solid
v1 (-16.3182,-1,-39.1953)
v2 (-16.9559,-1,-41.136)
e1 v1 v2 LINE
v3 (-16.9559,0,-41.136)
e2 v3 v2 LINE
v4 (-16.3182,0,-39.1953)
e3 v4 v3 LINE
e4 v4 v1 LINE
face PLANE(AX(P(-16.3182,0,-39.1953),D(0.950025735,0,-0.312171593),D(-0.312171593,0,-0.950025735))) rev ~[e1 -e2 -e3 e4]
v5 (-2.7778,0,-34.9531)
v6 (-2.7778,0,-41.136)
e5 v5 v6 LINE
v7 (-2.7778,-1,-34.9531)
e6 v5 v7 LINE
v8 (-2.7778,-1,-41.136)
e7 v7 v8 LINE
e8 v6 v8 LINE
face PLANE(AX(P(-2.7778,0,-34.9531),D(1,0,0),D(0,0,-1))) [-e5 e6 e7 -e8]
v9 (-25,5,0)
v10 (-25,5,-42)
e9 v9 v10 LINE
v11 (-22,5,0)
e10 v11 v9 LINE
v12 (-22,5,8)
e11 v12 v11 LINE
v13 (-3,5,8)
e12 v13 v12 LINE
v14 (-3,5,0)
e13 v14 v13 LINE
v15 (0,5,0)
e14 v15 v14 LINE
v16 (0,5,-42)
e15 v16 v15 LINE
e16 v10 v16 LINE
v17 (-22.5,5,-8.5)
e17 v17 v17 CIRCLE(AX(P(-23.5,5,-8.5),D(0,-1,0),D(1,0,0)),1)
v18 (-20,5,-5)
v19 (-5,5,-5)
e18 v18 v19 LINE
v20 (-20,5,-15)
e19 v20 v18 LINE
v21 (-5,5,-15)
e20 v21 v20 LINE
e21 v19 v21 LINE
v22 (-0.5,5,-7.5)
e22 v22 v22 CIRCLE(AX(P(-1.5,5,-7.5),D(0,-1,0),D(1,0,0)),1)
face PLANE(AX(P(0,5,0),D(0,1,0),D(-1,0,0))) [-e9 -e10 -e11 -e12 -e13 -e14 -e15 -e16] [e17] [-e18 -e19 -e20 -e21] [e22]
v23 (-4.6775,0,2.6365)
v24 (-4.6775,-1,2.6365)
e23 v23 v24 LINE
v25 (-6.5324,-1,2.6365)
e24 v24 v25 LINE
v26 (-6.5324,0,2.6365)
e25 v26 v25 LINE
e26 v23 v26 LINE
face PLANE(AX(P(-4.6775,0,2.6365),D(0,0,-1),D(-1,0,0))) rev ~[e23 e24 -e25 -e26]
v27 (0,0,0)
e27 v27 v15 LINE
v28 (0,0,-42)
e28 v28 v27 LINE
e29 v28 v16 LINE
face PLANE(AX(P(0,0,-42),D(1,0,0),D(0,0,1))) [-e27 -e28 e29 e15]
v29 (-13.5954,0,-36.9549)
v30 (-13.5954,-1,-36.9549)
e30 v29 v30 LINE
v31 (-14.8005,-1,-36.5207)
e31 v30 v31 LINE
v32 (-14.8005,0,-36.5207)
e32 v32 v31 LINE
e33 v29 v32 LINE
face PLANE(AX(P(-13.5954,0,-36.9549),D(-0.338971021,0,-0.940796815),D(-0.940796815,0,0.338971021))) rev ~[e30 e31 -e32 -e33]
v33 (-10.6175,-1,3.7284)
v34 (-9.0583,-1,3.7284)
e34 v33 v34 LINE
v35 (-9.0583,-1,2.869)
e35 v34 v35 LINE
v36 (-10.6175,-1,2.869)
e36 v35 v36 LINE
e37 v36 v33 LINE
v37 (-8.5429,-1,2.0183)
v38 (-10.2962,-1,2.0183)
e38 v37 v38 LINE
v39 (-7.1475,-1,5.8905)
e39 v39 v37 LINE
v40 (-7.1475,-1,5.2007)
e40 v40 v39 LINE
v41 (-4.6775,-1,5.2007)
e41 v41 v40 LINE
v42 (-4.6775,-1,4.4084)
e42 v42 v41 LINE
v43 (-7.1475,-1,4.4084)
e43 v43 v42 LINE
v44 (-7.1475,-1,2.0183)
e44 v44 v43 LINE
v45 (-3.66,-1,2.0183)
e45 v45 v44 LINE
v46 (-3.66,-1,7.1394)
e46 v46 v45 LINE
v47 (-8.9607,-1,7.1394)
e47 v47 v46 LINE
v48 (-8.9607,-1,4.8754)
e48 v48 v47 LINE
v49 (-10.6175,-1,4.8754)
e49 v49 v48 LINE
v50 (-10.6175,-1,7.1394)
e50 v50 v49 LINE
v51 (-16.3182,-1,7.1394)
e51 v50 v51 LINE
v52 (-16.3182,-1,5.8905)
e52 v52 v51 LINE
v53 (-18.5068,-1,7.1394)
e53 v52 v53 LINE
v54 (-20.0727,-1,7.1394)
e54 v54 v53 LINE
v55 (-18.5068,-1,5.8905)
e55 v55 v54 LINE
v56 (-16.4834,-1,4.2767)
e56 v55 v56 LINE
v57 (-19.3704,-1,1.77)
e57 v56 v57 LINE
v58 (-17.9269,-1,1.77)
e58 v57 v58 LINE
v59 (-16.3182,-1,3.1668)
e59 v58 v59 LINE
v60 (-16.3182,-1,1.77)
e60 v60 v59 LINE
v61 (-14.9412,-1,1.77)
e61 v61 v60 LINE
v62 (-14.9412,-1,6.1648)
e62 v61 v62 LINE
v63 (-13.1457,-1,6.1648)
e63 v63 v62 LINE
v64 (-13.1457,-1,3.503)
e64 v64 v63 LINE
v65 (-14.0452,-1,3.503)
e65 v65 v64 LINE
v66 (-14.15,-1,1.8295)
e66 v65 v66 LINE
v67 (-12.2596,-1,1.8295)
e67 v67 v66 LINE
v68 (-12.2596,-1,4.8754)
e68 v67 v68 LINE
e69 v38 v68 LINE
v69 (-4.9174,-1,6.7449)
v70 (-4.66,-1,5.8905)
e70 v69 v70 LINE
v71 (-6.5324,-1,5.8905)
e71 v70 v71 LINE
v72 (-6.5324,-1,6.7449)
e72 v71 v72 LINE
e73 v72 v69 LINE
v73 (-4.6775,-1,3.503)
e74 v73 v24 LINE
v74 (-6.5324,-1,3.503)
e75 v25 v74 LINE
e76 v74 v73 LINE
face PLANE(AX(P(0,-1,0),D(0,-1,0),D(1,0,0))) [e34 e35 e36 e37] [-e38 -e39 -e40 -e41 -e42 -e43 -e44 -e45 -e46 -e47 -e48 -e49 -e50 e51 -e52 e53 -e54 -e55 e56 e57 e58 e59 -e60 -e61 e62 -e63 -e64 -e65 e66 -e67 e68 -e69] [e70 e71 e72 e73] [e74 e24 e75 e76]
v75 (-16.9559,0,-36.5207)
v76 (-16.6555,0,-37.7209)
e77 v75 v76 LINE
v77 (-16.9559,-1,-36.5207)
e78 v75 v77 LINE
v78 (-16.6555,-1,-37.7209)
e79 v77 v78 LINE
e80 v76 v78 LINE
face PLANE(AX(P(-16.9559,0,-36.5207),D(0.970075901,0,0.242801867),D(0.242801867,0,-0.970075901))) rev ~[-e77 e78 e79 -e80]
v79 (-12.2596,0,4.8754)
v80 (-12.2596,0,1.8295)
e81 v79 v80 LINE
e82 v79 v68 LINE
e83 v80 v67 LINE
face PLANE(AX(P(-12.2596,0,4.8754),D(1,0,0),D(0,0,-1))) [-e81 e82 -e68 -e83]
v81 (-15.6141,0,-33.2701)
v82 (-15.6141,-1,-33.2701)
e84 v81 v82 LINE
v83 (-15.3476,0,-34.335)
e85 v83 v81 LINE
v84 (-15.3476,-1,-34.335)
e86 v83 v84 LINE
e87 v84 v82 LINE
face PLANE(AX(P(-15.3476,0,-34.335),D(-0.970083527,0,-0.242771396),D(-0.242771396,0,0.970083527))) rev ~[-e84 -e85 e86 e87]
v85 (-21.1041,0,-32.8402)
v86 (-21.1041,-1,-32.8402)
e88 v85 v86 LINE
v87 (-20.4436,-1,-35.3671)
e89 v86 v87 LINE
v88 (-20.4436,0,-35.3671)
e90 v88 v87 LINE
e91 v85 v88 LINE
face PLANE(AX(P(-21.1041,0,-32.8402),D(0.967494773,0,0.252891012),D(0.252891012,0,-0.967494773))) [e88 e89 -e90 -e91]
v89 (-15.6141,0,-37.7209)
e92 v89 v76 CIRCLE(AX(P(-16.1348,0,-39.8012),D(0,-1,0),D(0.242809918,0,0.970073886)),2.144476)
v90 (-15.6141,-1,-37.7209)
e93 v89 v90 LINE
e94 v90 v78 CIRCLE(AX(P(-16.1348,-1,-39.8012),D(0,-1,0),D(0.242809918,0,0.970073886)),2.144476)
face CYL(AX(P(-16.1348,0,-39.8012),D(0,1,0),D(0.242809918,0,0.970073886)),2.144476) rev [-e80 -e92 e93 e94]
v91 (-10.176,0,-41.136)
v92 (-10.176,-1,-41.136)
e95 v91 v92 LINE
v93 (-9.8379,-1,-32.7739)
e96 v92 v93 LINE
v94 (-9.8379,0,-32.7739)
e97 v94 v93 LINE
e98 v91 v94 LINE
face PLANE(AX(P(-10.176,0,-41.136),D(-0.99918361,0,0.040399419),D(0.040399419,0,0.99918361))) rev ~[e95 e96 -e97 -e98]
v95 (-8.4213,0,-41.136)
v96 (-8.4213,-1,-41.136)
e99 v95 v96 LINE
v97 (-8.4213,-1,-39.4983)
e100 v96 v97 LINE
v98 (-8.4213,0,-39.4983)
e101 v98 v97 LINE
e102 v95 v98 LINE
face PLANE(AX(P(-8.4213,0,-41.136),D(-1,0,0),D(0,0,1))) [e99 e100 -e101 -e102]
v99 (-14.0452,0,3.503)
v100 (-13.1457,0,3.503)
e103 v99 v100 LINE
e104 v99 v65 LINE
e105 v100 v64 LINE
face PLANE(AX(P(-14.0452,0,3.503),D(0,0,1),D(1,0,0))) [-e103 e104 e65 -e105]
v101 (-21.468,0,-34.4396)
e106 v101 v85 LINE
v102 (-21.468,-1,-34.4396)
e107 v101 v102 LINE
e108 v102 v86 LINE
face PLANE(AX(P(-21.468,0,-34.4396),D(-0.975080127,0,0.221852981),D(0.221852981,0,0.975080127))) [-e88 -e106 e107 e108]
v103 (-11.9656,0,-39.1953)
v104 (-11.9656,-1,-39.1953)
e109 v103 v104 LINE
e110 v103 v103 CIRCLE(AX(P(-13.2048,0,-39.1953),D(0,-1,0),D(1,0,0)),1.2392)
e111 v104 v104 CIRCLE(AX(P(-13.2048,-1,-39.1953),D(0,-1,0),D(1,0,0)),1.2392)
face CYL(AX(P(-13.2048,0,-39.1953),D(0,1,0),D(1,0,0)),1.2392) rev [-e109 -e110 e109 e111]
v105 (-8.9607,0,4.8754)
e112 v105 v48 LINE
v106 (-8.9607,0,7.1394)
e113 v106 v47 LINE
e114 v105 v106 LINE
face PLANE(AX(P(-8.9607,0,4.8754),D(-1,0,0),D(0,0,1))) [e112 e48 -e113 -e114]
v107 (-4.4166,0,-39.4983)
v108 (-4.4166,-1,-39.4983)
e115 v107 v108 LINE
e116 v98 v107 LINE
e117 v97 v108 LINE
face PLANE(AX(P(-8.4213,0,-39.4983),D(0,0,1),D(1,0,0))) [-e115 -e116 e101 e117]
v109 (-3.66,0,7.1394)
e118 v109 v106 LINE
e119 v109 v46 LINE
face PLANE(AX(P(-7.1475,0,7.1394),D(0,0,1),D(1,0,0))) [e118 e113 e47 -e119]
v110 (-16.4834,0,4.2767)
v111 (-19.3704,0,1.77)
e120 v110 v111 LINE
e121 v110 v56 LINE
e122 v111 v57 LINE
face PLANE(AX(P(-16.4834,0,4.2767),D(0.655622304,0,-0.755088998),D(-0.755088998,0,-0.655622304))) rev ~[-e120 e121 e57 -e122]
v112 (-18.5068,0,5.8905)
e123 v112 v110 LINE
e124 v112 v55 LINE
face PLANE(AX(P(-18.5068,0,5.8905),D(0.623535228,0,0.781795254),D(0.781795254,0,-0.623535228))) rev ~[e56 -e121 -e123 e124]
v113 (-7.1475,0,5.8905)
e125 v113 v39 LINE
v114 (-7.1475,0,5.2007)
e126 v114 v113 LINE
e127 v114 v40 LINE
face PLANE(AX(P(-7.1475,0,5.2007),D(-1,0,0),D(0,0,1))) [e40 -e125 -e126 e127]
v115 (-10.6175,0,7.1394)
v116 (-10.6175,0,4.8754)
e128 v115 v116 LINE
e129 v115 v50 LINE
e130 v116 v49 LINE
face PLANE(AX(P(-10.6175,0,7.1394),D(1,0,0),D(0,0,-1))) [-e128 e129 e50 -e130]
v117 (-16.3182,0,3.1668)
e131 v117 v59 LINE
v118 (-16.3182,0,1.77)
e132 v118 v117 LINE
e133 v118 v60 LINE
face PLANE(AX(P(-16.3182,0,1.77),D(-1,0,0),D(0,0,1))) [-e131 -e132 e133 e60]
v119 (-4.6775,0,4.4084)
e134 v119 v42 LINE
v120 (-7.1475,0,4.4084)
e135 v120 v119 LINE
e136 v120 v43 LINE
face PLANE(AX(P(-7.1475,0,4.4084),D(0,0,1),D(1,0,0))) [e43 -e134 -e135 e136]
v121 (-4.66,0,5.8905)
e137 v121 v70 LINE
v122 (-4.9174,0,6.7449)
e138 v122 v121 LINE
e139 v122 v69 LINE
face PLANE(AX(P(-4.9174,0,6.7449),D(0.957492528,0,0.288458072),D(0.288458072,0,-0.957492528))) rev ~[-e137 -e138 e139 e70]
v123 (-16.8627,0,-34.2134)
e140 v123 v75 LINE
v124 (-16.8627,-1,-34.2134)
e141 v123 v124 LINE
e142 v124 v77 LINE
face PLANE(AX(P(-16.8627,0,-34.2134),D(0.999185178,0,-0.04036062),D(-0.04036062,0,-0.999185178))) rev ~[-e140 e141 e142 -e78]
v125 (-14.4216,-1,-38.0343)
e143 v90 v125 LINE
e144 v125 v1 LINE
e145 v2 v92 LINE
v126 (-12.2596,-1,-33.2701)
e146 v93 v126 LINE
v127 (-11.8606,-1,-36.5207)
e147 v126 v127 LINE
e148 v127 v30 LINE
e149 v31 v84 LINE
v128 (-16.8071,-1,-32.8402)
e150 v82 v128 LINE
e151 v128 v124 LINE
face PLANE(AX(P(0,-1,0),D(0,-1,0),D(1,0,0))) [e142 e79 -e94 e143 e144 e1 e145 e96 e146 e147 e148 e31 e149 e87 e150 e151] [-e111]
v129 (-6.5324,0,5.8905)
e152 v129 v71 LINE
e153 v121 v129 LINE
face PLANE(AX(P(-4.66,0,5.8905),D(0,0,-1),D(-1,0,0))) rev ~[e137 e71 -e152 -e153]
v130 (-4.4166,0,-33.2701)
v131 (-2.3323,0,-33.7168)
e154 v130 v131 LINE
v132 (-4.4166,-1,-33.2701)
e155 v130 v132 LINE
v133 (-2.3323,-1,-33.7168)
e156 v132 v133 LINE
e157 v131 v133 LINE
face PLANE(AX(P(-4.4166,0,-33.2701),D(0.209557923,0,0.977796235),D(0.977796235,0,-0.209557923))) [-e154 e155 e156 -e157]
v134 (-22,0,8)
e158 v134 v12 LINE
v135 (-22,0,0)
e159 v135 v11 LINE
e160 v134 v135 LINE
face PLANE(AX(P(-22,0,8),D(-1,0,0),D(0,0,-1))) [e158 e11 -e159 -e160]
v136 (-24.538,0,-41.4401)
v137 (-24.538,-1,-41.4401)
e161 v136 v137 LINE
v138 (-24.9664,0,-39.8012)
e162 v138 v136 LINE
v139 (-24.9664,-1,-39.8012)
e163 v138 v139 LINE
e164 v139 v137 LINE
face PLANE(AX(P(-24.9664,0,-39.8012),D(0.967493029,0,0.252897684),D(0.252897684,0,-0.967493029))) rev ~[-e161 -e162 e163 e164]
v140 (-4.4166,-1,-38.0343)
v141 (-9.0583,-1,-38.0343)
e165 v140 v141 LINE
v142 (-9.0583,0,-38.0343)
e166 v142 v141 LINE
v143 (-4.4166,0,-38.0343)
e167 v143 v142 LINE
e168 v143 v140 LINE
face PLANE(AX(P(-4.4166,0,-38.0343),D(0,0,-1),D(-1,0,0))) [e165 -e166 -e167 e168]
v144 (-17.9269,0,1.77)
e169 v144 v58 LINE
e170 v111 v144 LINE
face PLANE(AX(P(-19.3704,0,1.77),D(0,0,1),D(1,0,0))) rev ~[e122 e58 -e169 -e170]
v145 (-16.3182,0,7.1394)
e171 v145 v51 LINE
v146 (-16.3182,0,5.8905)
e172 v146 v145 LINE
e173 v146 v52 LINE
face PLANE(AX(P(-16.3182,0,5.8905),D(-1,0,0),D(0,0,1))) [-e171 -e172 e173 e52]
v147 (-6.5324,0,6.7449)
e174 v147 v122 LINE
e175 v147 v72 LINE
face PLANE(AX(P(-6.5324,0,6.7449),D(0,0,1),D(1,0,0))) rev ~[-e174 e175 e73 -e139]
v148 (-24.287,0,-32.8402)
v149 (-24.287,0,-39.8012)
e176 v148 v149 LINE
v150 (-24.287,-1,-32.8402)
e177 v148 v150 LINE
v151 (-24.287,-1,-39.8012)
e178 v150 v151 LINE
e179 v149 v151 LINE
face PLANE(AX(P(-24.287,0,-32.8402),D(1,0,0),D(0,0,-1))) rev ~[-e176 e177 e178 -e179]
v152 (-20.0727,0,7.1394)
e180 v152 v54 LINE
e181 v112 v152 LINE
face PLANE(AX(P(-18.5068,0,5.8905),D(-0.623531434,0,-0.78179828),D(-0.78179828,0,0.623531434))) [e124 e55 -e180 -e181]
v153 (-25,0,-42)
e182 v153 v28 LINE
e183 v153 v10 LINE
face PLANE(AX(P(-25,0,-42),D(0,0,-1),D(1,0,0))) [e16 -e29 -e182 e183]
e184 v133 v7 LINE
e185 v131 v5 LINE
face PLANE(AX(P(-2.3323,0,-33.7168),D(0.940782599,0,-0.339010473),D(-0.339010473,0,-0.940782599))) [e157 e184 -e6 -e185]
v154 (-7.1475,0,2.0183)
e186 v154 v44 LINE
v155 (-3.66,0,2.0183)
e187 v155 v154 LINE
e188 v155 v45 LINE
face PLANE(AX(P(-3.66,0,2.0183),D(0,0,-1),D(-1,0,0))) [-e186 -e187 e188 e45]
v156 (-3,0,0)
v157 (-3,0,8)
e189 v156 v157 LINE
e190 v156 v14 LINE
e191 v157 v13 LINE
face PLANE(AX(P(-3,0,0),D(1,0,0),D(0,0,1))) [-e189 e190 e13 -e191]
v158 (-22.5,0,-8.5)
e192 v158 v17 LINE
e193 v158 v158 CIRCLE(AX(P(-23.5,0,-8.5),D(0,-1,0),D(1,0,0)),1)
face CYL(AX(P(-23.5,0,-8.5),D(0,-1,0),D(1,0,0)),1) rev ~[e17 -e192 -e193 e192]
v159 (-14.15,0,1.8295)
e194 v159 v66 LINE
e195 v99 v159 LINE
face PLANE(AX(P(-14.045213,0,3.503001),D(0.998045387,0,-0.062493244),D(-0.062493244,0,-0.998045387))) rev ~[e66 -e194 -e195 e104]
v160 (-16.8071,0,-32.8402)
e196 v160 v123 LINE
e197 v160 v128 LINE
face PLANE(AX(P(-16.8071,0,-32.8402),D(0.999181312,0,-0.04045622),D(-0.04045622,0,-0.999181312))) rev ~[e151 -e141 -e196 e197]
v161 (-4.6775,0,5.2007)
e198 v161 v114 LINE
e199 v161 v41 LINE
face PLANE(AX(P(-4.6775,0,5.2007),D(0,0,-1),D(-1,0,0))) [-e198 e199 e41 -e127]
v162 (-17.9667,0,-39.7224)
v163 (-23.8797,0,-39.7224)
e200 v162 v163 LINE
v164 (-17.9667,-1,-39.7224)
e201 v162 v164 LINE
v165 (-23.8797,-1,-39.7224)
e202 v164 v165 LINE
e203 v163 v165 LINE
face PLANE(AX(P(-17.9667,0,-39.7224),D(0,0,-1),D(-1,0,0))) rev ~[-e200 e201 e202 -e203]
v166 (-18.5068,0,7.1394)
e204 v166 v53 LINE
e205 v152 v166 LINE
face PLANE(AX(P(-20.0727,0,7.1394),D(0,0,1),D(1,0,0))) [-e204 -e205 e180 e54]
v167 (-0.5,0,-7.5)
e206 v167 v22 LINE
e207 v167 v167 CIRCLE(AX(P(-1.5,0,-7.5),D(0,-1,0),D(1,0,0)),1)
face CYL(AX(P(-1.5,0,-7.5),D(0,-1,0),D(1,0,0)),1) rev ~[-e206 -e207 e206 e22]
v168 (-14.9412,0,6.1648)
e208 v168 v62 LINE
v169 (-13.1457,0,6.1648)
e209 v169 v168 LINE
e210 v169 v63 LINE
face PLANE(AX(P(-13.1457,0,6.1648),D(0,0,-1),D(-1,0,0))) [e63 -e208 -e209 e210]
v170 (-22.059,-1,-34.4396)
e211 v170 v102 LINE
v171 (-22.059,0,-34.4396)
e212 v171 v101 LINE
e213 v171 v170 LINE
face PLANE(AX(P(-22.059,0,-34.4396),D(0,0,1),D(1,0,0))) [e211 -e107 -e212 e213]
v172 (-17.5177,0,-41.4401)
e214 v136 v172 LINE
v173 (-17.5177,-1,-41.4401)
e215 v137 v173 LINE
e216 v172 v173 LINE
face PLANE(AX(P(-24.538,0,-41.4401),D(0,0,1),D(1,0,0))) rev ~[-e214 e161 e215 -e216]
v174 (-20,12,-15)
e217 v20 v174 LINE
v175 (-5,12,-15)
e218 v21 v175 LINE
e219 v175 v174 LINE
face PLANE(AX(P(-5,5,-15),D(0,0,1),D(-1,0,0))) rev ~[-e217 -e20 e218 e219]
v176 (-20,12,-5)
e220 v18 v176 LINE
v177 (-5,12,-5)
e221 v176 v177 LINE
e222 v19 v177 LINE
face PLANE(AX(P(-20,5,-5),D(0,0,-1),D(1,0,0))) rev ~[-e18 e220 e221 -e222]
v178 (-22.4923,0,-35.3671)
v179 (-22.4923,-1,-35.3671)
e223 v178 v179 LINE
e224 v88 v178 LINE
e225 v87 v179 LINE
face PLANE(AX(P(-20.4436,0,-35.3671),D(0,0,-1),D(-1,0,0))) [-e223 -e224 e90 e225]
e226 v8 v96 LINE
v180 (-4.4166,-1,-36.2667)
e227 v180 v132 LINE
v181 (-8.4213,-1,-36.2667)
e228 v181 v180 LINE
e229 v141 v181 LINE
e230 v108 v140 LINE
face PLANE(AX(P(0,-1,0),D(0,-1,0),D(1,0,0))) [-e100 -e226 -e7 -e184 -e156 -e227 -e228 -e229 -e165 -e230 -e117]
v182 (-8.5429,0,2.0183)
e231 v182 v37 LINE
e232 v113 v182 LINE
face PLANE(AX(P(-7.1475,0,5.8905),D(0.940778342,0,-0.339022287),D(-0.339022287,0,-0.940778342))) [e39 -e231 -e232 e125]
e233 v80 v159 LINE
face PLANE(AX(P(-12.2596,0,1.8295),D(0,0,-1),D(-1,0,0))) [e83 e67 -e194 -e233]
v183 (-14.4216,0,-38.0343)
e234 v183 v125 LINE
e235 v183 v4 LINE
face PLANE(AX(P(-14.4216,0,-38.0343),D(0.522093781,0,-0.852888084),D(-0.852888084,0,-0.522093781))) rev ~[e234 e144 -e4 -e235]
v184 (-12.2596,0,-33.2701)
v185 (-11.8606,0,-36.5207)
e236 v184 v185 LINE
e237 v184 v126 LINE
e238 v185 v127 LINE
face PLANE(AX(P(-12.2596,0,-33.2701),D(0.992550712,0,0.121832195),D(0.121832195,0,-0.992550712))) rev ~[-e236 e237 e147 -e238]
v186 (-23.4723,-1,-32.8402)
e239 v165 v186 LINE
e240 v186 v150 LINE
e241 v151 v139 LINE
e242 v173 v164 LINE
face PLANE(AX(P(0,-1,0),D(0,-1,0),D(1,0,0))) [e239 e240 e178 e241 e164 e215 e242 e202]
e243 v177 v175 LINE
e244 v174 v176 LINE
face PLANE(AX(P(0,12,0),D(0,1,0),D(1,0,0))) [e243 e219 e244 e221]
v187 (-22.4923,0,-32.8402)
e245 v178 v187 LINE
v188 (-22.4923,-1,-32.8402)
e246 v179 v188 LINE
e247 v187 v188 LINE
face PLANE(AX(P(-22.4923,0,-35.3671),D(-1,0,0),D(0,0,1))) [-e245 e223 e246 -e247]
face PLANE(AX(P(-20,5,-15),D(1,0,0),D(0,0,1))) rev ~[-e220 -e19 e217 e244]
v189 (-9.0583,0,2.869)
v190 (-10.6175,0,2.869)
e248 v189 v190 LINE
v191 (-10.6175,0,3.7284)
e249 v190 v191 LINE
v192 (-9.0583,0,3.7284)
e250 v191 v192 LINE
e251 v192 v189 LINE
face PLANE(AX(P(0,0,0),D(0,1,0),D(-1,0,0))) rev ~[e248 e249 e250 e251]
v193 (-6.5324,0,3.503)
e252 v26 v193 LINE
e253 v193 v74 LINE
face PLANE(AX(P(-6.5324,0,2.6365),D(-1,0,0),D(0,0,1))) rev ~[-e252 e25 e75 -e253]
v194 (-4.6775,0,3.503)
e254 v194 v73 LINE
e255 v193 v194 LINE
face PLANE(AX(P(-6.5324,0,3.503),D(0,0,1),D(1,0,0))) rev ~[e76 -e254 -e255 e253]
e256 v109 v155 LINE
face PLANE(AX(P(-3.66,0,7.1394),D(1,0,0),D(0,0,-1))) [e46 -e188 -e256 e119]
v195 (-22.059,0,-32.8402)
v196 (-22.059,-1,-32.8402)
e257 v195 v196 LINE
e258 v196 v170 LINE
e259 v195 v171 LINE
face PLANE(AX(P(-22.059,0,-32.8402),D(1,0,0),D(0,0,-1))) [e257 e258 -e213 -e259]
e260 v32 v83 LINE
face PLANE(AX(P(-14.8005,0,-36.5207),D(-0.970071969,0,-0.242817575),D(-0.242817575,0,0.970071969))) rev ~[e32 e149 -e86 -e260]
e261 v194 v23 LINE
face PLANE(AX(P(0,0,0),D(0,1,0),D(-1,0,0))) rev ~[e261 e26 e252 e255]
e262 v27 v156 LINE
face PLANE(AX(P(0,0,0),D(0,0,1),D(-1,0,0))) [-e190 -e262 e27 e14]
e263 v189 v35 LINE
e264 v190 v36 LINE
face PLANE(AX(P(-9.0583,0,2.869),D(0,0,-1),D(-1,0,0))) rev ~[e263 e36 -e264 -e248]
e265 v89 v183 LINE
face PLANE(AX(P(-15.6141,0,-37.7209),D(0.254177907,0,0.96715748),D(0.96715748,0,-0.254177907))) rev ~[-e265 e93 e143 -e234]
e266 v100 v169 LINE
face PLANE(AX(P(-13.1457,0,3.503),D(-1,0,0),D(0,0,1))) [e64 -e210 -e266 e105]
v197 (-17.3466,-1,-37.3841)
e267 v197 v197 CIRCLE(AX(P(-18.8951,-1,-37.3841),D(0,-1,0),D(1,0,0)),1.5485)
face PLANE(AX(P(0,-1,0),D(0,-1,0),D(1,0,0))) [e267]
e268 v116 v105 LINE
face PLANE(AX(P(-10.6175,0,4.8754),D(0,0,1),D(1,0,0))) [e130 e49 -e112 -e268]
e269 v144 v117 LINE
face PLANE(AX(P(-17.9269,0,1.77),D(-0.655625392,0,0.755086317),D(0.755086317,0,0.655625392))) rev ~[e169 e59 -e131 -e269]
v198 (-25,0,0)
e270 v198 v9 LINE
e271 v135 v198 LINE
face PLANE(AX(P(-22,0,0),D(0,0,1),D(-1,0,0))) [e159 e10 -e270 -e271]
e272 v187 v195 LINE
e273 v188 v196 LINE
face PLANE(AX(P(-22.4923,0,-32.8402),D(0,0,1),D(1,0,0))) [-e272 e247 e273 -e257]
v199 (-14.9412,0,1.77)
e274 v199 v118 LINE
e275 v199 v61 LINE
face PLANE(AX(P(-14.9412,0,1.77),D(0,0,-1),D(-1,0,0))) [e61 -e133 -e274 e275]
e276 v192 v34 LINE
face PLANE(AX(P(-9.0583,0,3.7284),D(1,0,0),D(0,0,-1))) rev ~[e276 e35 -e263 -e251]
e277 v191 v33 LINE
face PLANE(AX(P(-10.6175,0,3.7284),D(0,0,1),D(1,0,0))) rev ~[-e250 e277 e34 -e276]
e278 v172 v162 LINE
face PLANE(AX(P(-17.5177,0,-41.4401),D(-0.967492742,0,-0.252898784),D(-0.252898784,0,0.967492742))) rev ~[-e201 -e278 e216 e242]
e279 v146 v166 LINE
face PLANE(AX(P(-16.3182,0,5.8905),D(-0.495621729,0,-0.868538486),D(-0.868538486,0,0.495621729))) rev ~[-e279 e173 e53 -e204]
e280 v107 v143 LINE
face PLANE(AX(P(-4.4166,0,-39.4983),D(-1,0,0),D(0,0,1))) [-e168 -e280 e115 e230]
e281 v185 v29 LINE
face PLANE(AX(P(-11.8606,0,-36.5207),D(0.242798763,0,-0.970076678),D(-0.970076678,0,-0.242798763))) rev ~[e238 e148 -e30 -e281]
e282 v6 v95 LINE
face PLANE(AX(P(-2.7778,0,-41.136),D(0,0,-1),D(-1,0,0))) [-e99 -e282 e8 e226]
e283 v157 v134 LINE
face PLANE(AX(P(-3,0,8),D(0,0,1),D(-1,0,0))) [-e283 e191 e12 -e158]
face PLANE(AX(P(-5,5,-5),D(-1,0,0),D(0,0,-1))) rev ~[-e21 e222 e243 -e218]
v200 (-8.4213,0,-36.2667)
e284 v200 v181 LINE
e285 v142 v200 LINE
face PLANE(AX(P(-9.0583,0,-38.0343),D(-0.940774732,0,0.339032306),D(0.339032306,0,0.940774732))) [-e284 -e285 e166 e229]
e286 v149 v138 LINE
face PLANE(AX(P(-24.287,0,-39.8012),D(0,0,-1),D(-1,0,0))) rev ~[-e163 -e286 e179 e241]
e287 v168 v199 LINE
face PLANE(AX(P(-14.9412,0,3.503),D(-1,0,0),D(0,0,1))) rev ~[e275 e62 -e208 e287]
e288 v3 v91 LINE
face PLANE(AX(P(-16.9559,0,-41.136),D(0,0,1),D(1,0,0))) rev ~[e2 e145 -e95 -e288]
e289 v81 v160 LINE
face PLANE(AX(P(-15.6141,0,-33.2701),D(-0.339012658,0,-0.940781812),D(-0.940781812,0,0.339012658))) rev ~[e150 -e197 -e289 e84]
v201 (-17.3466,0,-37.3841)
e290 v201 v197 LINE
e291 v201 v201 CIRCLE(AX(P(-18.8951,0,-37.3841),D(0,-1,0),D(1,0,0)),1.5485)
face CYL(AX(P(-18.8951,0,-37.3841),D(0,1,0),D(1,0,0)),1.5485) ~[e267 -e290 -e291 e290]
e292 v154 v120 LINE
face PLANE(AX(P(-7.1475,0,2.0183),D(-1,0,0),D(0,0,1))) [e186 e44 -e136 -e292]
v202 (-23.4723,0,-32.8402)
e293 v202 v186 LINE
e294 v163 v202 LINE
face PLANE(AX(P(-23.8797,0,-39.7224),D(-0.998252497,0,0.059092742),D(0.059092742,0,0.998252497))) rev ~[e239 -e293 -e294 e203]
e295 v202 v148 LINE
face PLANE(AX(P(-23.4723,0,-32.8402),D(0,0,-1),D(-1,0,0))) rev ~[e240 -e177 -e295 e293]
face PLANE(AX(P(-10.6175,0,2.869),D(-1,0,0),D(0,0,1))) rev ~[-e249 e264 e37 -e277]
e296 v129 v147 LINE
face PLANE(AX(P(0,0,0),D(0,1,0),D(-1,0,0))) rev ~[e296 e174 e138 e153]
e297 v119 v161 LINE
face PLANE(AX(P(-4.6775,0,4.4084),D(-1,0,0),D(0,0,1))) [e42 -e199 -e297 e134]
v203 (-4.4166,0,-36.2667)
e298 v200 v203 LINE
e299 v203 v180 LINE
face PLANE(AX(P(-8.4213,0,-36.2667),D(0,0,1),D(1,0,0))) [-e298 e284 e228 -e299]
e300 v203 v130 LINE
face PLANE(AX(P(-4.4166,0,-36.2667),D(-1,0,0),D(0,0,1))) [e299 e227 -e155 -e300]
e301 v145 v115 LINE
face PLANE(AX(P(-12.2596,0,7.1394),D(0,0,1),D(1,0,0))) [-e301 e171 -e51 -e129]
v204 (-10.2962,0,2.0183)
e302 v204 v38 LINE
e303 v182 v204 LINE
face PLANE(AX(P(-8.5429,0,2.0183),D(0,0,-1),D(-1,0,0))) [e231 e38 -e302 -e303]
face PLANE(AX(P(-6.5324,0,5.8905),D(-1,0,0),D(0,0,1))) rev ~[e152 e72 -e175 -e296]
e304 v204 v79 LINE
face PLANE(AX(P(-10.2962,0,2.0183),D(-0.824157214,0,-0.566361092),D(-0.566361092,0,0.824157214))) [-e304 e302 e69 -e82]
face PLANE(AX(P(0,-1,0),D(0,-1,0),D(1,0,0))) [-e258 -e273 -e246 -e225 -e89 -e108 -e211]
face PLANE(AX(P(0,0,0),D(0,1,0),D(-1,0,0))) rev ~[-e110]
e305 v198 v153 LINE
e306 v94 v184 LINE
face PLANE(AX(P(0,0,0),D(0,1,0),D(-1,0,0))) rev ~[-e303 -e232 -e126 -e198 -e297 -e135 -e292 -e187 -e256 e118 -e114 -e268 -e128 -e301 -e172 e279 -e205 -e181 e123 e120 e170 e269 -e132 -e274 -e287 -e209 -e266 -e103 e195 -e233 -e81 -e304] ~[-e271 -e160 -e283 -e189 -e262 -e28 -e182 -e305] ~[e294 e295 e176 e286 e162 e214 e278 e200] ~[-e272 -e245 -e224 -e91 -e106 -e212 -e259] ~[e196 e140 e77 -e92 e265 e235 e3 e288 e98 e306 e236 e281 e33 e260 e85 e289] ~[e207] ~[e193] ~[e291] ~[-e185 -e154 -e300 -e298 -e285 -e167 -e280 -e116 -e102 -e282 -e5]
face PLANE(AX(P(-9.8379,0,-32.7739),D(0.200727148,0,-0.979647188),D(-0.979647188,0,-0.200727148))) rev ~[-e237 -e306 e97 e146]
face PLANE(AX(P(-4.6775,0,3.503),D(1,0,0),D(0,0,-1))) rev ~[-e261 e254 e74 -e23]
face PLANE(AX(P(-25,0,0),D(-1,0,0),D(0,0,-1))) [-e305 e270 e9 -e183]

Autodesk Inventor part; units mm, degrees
ref_plane "YZ Plane" through (0, 0, 0) normal (1, 0, 0) x (0, 1, 0)
ref_plane "XZ Plane" through (0, 0, 0) normal (0, 1, 0) x (-1, 0, 0)
ref_plane "XY Plane" through (0, 0, 0) normal (0, 0, 1) x (1, 0, 0)
sketch "Sketch1" plane through (0, 0, 0) normal (0, 1, 0) x (-1, 0, 0)
  line L0 (0, 0) -> (25, 0)
  line L1 (25, 0) -> (25, -42)
  line L2 (25, -42) -> (0, -42)
  line L3 (0, -42) -> (0, 0)
  line L4 (22, 0) -> (3, 0)
  line L5 (3, 0) -> (3, 8)
  line L6 (3, 8) -> (22, 8)
  line L7 (22, 8) -> (22, 0)
  point P0 (22, 4)
  dimension "d0" = 19
  dimension "d1" = 3
  dimension "d2" = 3
  dimension "d3" = 42
  dimension "d4" = 25
  dimension "d27" = 8
extrude "Extrusion1" add sketch "Sketch1" along normal blind 5
sketch "Sketch2" plane through (0, 5, 0) normal (0, 1, 0) x (1, 0, 0)
  line L0 (-20, 5) -> (-5, 5)
  line L1 (-5, 5) -> (-5, 15)
  line L2 (-5, 15) -> (-20, 15)
  line L3 (-20, 15) -> (-20, 5)
  line L4 (-25, 0) -> (-22, 0) projected
  line L5 (-25, 42) -> (-25, 0) projected
  line L6 (0, 0) -> (0, 42) projected
  dimension "d7" = 5
  dimension "d8" = 10
  dimension "d25" = 5
  dimension "d26" = 5
extrude "Extrusion2" add sketch "Sketch2" along normal blind 7
sketch "Sketch3" plane through (0, 0, 0) normal (0, -1, 0) x (1, 0, 0)
  circle A0 centre (-1.5, -7.5) radius 1
  line L0 (-3, 0) -> (0, 0) projected
  line L1 (0, 0) -> (0, -42) projected
  circle A1 centre (-23.5, -8.5) radius 1
  line L2 (-25, 0) -> (-22, 0) projected
  line L3 (-25, -42) -> (-25, 0) projected
  dimension "d13" = 2
  dimension "d14" = 7.5
  dimension "d15" = 1.5
  dimension "d16" = 2
  dimension "d17" = 8.5
  dimension "d18" = 1.5
extrude "Extrusion3" cut sketch "Sketch3" against normal blind 7
thread "Thread1" size "M2x0.4" class "6H" standard "ANSI Metric M Profile" full length
thread "Thread2" size "M2x0.4" class "6H" standard "ANSI Metric M Profile" full length
sketch "Sketch4" plane through (0, 0, 0) normal (0, -1, 0) x (1, 0, 0)
  line L0 (-3.66, 7.1394) -> (-3.66, 2.0183)
  line L1 (-3.66, 2.0183) -> (-7.1475, 2.0183)
  line L2 (-7.1475, 5.8905) -> (-7.1475, 7.1394)
  line L3 (-7.1475, 7.1394) -> (-3.66, 7.1394)
  line L4 (-7.1475, 5.8905) -> (-8.5429, 2.0183)
  line L5 (-8.5429, 2.0183) -> (-10.2962, 2.0183)
  line L6 (-10.2962, 2.0183) -> (-12.2596, 4.8754)
  line L7 (-12.2596, 4.8754) -> (-12.2596, 7.1394)
  line L8 (-12.2596, 7.1394) -> (-10.6175, 7.1394)
  line L9 (-10.6175, 7.1394) -> (-10.6175, 4.8754)
  line L10 (-10.6175, 4.8754) -> (-8.9607, 4.8754)
  line L11 (-8.9607, 4.8754) -> (-8.9607, 7.1394)
  line L12 (-8.9607, 7.1394) -> (-7.1475, 7.1394)
  line L13 (-12.2596, 4.8754) -> (-12.2596, 2.0183)
  line L14 (-14.9412, 1.77) -> (-14.9412, 3.503)
  line L15 (-13.1457, 3.503) -> (-13.1457, 6.1648)
  line L16 (-13.1457, 6.1648) -> (-14.9412, 6.1648)
  line L17 (-14.9412, 6.1648) -> (-14.9412, 7.1394)
  line L18 (-12.2596, 7.1394) -> (-14.9412, 7.1394)
  line L19 (-12.2596, 2.0183) -> (-12.2596, 1.8295)
  line L20 (-14.9412, 3.503) -> (-14.9412, 6.1648)
  line L21 (-7.1475, 2.0183) -> (-7.1475, 4.4084)
  line L22 (-7.1475, 4.4084) -> (-4.6775, 4.4084)
  line L23 (-4.6775, 4.4084) -> (-4.6775, 5.2007)
  line L24 (-4.6775, 5.2007) -> (-7.1475, 5.2007)
  line L25 (-7.1475, 5.2007) -> (-7.1475, 5.8905)
  line L26 (-4.6775, 3.503) -> (-4.6775, 2.6365)
  line L27 (-4.6775, 2.6365) -> (-6.5324, 2.6365)
  line L28 (-6.5324, 2.6365) -> (-6.5324, 3.503)
  line L29 (-6.5324, 3.503) -> (-4.6775, 3.503)
  line L30 (-4.66, 5.8905) -> (-6.5324, 5.8905)
  line L31 (-6.5324, 5.8905) -> (-6.5324, 6.7449)
  line L32 (-6.5324, 6.7449) -> (-4.9174, 6.7449)
  line L33 (-4.9174, 6.7449) -> (-4.66, 5.8905)
  line L34 (-14.9412, 1.77) -> (-16.3182, 1.77)
  line L35 (-16.3182, 1.77) -> (-16.3182, 7.1394)
  line L36 (-16.3182, 7.1394) -> (-14.9412, 7.1394)
  line L37 (-18.5068, 5.8905) -> (-16.4834, 4.2767)
  line L38 (-16.4834, 4.2767) -> (-19.3704, 1.77)
  line L39 (-19.3704, 1.77) -> (-17.9269, 1.77)
  line L40 (-17.9269, 1.77) -> (-16.3182, 3.1668)
  line L41 (-18.5068, 5.8905) -> (-20.0727, 7.1394)
  line L42 (-20.0727, 7.1394) -> (-18.5068, 7.1394)
  line L43 (-16.3182, 5.8905) -> (-18.5068, 7.1394)
  line L44 (-9.0583, 2.869) -> (-10.6175, 2.869)
  line L45 (-10.6175, 2.869) -> (-10.6175, 3.7284)
  line L46 (-10.6175, 3.7284) -> (-9.0583, 3.7284)
  line L47 (-9.0583, 3.7284) -> (-9.0583, 2.869)
  line L48 (-14.0417, 3.5591) -> (-14.15, 1.8295)
  line L49 (-12.2596, 1.8295) -> (-14.15, 1.8295)
  line L50 (-14.0452, 3.503) -> (-13.1457, 3.503)
  line L51 (-2.7778, -34.9531) -> (-2.7778, -41.136)
  line L52 (-2.7778, -41.136) -> (-8.4213, -41.136)
  line L53 (-8.4213, -41.136) -> (-8.4213, -39.4983)
  line L54 (-8.4213, -39.4983) -> (-4.4166, -39.4983)
  line L55 (-4.4166, -39.4983) -> (-4.4166, -38.0343)
  line L56 (-4.4166, -38.0343) -> (-9.0583, -38.0343)
  line L57 (-9.0583, -38.0343) -> (-8.4213, -36.2667)
  line L58 (-8.4213, -36.2667) -> (-4.4166, -36.2667)
  line L59 (-4.4166, -36.2667) -> (-4.4166, -33.2701)
  line L60 (-4.4166, -33.2701) -> (-2.3323, -33.7168)
  line L61 (-2.3323, -33.7168) -> (-2.7778, -34.9531)
  line L62 (-10.176, -41.136) -> (-9.8379, -32.7739)
  line L63 (-9.8379, -32.7739) -> (-12.2596, -33.2701)
  line L64 (-12.2596, -33.2701) -> (-11.8606, -36.5207)
  line L65 (-11.8606, -36.5207) -> (-13.5954, -36.9549)
  line L66 (-13.5954, -36.9549) -> (-14.8005, -36.5207)
  line L67 (-14.8005, -36.5207) -> (-15.3476, -34.335)
  line L68 (-15.3476, -34.335) -> (-15.6141, -33.2701)
  line L69 (-15.6141, -33.2701) -> (-16.8071, -32.8402)
  line L70 (-16.8071, -32.8402) -> (-16.8627, -34.2134)
  line L71 (-16.8627, -34.2134) -> (-16.9559, -36.5207)
  line L72 (-16.9559, -36.5207) -> (-16.6555, -37.7209)
  arc A0 (-15.6141, -37.7209) -> (-16.6555, -37.7209) centre (-16.1348, -39.8012) ccw
  line L73 (-15.6141, -37.7209) -> (-14.4216, -38.0343)
  line L74 (-14.4216, -38.0343) -> (-16.3182, -39.1953)
  line L75 (-16.3182, -39.1953) -> (-16.9559, -41.136)
  line L76 (-16.9559, -41.136) -> (-10.176, -41.136)
  circle A1 centre (-13.2048, -39.1953) radius 1.2392
  circle A2 centre (-18.8951, -37.3841) radius 1.5485
  line L77 (-21.1041, -32.8402) -> (-20.4436, -35.3671)
  line L78 (-20.4436, -35.3671) -> (-22.4923, -35.3671)
  line L79 (-22.4923, -35.3671) -> (-22.4923, -32.8402)
  line L80 (-22.4923, -32.8402) -> (-22.059, -32.8402)
  line L81 (-22.059, -32.8402) -> (-22.059, -34.4396)
  line L82 (-22.059, -34.4396) -> (-21.468, -34.4396)
  line L83 (-21.468, -34.4396) -> (-21.1041, -32.8402)
  line L84 (-23.4723, -32.8402) -> (-24.287, -32.8402)
  line L85 (-24.287, -32.8402) -> (-24.287, -39.8012)
  line L86 (-24.287, -39.8012) -> (-24.9664, -39.8012)
  line L87 (-24.9664, -39.8012) -> (-24.538, -41.4401)
  line L88 (-24.538, -41.4401) -> (-17.5177, -41.4401)
  line L89 (-17.5177, -41.4401) -> (-17.9667, -39.7224)
  line L90 (-17.9667, -39.7224) -> (-23.8797, -39.7224)
  line L91 (-23.8797, -39.7224) -> (-23.4723, -32.8402)
  point P0 (0, 0)
extrude "Extrusion4" add sketch "Sketch4" along normal blind 1
properties part number "Head"
